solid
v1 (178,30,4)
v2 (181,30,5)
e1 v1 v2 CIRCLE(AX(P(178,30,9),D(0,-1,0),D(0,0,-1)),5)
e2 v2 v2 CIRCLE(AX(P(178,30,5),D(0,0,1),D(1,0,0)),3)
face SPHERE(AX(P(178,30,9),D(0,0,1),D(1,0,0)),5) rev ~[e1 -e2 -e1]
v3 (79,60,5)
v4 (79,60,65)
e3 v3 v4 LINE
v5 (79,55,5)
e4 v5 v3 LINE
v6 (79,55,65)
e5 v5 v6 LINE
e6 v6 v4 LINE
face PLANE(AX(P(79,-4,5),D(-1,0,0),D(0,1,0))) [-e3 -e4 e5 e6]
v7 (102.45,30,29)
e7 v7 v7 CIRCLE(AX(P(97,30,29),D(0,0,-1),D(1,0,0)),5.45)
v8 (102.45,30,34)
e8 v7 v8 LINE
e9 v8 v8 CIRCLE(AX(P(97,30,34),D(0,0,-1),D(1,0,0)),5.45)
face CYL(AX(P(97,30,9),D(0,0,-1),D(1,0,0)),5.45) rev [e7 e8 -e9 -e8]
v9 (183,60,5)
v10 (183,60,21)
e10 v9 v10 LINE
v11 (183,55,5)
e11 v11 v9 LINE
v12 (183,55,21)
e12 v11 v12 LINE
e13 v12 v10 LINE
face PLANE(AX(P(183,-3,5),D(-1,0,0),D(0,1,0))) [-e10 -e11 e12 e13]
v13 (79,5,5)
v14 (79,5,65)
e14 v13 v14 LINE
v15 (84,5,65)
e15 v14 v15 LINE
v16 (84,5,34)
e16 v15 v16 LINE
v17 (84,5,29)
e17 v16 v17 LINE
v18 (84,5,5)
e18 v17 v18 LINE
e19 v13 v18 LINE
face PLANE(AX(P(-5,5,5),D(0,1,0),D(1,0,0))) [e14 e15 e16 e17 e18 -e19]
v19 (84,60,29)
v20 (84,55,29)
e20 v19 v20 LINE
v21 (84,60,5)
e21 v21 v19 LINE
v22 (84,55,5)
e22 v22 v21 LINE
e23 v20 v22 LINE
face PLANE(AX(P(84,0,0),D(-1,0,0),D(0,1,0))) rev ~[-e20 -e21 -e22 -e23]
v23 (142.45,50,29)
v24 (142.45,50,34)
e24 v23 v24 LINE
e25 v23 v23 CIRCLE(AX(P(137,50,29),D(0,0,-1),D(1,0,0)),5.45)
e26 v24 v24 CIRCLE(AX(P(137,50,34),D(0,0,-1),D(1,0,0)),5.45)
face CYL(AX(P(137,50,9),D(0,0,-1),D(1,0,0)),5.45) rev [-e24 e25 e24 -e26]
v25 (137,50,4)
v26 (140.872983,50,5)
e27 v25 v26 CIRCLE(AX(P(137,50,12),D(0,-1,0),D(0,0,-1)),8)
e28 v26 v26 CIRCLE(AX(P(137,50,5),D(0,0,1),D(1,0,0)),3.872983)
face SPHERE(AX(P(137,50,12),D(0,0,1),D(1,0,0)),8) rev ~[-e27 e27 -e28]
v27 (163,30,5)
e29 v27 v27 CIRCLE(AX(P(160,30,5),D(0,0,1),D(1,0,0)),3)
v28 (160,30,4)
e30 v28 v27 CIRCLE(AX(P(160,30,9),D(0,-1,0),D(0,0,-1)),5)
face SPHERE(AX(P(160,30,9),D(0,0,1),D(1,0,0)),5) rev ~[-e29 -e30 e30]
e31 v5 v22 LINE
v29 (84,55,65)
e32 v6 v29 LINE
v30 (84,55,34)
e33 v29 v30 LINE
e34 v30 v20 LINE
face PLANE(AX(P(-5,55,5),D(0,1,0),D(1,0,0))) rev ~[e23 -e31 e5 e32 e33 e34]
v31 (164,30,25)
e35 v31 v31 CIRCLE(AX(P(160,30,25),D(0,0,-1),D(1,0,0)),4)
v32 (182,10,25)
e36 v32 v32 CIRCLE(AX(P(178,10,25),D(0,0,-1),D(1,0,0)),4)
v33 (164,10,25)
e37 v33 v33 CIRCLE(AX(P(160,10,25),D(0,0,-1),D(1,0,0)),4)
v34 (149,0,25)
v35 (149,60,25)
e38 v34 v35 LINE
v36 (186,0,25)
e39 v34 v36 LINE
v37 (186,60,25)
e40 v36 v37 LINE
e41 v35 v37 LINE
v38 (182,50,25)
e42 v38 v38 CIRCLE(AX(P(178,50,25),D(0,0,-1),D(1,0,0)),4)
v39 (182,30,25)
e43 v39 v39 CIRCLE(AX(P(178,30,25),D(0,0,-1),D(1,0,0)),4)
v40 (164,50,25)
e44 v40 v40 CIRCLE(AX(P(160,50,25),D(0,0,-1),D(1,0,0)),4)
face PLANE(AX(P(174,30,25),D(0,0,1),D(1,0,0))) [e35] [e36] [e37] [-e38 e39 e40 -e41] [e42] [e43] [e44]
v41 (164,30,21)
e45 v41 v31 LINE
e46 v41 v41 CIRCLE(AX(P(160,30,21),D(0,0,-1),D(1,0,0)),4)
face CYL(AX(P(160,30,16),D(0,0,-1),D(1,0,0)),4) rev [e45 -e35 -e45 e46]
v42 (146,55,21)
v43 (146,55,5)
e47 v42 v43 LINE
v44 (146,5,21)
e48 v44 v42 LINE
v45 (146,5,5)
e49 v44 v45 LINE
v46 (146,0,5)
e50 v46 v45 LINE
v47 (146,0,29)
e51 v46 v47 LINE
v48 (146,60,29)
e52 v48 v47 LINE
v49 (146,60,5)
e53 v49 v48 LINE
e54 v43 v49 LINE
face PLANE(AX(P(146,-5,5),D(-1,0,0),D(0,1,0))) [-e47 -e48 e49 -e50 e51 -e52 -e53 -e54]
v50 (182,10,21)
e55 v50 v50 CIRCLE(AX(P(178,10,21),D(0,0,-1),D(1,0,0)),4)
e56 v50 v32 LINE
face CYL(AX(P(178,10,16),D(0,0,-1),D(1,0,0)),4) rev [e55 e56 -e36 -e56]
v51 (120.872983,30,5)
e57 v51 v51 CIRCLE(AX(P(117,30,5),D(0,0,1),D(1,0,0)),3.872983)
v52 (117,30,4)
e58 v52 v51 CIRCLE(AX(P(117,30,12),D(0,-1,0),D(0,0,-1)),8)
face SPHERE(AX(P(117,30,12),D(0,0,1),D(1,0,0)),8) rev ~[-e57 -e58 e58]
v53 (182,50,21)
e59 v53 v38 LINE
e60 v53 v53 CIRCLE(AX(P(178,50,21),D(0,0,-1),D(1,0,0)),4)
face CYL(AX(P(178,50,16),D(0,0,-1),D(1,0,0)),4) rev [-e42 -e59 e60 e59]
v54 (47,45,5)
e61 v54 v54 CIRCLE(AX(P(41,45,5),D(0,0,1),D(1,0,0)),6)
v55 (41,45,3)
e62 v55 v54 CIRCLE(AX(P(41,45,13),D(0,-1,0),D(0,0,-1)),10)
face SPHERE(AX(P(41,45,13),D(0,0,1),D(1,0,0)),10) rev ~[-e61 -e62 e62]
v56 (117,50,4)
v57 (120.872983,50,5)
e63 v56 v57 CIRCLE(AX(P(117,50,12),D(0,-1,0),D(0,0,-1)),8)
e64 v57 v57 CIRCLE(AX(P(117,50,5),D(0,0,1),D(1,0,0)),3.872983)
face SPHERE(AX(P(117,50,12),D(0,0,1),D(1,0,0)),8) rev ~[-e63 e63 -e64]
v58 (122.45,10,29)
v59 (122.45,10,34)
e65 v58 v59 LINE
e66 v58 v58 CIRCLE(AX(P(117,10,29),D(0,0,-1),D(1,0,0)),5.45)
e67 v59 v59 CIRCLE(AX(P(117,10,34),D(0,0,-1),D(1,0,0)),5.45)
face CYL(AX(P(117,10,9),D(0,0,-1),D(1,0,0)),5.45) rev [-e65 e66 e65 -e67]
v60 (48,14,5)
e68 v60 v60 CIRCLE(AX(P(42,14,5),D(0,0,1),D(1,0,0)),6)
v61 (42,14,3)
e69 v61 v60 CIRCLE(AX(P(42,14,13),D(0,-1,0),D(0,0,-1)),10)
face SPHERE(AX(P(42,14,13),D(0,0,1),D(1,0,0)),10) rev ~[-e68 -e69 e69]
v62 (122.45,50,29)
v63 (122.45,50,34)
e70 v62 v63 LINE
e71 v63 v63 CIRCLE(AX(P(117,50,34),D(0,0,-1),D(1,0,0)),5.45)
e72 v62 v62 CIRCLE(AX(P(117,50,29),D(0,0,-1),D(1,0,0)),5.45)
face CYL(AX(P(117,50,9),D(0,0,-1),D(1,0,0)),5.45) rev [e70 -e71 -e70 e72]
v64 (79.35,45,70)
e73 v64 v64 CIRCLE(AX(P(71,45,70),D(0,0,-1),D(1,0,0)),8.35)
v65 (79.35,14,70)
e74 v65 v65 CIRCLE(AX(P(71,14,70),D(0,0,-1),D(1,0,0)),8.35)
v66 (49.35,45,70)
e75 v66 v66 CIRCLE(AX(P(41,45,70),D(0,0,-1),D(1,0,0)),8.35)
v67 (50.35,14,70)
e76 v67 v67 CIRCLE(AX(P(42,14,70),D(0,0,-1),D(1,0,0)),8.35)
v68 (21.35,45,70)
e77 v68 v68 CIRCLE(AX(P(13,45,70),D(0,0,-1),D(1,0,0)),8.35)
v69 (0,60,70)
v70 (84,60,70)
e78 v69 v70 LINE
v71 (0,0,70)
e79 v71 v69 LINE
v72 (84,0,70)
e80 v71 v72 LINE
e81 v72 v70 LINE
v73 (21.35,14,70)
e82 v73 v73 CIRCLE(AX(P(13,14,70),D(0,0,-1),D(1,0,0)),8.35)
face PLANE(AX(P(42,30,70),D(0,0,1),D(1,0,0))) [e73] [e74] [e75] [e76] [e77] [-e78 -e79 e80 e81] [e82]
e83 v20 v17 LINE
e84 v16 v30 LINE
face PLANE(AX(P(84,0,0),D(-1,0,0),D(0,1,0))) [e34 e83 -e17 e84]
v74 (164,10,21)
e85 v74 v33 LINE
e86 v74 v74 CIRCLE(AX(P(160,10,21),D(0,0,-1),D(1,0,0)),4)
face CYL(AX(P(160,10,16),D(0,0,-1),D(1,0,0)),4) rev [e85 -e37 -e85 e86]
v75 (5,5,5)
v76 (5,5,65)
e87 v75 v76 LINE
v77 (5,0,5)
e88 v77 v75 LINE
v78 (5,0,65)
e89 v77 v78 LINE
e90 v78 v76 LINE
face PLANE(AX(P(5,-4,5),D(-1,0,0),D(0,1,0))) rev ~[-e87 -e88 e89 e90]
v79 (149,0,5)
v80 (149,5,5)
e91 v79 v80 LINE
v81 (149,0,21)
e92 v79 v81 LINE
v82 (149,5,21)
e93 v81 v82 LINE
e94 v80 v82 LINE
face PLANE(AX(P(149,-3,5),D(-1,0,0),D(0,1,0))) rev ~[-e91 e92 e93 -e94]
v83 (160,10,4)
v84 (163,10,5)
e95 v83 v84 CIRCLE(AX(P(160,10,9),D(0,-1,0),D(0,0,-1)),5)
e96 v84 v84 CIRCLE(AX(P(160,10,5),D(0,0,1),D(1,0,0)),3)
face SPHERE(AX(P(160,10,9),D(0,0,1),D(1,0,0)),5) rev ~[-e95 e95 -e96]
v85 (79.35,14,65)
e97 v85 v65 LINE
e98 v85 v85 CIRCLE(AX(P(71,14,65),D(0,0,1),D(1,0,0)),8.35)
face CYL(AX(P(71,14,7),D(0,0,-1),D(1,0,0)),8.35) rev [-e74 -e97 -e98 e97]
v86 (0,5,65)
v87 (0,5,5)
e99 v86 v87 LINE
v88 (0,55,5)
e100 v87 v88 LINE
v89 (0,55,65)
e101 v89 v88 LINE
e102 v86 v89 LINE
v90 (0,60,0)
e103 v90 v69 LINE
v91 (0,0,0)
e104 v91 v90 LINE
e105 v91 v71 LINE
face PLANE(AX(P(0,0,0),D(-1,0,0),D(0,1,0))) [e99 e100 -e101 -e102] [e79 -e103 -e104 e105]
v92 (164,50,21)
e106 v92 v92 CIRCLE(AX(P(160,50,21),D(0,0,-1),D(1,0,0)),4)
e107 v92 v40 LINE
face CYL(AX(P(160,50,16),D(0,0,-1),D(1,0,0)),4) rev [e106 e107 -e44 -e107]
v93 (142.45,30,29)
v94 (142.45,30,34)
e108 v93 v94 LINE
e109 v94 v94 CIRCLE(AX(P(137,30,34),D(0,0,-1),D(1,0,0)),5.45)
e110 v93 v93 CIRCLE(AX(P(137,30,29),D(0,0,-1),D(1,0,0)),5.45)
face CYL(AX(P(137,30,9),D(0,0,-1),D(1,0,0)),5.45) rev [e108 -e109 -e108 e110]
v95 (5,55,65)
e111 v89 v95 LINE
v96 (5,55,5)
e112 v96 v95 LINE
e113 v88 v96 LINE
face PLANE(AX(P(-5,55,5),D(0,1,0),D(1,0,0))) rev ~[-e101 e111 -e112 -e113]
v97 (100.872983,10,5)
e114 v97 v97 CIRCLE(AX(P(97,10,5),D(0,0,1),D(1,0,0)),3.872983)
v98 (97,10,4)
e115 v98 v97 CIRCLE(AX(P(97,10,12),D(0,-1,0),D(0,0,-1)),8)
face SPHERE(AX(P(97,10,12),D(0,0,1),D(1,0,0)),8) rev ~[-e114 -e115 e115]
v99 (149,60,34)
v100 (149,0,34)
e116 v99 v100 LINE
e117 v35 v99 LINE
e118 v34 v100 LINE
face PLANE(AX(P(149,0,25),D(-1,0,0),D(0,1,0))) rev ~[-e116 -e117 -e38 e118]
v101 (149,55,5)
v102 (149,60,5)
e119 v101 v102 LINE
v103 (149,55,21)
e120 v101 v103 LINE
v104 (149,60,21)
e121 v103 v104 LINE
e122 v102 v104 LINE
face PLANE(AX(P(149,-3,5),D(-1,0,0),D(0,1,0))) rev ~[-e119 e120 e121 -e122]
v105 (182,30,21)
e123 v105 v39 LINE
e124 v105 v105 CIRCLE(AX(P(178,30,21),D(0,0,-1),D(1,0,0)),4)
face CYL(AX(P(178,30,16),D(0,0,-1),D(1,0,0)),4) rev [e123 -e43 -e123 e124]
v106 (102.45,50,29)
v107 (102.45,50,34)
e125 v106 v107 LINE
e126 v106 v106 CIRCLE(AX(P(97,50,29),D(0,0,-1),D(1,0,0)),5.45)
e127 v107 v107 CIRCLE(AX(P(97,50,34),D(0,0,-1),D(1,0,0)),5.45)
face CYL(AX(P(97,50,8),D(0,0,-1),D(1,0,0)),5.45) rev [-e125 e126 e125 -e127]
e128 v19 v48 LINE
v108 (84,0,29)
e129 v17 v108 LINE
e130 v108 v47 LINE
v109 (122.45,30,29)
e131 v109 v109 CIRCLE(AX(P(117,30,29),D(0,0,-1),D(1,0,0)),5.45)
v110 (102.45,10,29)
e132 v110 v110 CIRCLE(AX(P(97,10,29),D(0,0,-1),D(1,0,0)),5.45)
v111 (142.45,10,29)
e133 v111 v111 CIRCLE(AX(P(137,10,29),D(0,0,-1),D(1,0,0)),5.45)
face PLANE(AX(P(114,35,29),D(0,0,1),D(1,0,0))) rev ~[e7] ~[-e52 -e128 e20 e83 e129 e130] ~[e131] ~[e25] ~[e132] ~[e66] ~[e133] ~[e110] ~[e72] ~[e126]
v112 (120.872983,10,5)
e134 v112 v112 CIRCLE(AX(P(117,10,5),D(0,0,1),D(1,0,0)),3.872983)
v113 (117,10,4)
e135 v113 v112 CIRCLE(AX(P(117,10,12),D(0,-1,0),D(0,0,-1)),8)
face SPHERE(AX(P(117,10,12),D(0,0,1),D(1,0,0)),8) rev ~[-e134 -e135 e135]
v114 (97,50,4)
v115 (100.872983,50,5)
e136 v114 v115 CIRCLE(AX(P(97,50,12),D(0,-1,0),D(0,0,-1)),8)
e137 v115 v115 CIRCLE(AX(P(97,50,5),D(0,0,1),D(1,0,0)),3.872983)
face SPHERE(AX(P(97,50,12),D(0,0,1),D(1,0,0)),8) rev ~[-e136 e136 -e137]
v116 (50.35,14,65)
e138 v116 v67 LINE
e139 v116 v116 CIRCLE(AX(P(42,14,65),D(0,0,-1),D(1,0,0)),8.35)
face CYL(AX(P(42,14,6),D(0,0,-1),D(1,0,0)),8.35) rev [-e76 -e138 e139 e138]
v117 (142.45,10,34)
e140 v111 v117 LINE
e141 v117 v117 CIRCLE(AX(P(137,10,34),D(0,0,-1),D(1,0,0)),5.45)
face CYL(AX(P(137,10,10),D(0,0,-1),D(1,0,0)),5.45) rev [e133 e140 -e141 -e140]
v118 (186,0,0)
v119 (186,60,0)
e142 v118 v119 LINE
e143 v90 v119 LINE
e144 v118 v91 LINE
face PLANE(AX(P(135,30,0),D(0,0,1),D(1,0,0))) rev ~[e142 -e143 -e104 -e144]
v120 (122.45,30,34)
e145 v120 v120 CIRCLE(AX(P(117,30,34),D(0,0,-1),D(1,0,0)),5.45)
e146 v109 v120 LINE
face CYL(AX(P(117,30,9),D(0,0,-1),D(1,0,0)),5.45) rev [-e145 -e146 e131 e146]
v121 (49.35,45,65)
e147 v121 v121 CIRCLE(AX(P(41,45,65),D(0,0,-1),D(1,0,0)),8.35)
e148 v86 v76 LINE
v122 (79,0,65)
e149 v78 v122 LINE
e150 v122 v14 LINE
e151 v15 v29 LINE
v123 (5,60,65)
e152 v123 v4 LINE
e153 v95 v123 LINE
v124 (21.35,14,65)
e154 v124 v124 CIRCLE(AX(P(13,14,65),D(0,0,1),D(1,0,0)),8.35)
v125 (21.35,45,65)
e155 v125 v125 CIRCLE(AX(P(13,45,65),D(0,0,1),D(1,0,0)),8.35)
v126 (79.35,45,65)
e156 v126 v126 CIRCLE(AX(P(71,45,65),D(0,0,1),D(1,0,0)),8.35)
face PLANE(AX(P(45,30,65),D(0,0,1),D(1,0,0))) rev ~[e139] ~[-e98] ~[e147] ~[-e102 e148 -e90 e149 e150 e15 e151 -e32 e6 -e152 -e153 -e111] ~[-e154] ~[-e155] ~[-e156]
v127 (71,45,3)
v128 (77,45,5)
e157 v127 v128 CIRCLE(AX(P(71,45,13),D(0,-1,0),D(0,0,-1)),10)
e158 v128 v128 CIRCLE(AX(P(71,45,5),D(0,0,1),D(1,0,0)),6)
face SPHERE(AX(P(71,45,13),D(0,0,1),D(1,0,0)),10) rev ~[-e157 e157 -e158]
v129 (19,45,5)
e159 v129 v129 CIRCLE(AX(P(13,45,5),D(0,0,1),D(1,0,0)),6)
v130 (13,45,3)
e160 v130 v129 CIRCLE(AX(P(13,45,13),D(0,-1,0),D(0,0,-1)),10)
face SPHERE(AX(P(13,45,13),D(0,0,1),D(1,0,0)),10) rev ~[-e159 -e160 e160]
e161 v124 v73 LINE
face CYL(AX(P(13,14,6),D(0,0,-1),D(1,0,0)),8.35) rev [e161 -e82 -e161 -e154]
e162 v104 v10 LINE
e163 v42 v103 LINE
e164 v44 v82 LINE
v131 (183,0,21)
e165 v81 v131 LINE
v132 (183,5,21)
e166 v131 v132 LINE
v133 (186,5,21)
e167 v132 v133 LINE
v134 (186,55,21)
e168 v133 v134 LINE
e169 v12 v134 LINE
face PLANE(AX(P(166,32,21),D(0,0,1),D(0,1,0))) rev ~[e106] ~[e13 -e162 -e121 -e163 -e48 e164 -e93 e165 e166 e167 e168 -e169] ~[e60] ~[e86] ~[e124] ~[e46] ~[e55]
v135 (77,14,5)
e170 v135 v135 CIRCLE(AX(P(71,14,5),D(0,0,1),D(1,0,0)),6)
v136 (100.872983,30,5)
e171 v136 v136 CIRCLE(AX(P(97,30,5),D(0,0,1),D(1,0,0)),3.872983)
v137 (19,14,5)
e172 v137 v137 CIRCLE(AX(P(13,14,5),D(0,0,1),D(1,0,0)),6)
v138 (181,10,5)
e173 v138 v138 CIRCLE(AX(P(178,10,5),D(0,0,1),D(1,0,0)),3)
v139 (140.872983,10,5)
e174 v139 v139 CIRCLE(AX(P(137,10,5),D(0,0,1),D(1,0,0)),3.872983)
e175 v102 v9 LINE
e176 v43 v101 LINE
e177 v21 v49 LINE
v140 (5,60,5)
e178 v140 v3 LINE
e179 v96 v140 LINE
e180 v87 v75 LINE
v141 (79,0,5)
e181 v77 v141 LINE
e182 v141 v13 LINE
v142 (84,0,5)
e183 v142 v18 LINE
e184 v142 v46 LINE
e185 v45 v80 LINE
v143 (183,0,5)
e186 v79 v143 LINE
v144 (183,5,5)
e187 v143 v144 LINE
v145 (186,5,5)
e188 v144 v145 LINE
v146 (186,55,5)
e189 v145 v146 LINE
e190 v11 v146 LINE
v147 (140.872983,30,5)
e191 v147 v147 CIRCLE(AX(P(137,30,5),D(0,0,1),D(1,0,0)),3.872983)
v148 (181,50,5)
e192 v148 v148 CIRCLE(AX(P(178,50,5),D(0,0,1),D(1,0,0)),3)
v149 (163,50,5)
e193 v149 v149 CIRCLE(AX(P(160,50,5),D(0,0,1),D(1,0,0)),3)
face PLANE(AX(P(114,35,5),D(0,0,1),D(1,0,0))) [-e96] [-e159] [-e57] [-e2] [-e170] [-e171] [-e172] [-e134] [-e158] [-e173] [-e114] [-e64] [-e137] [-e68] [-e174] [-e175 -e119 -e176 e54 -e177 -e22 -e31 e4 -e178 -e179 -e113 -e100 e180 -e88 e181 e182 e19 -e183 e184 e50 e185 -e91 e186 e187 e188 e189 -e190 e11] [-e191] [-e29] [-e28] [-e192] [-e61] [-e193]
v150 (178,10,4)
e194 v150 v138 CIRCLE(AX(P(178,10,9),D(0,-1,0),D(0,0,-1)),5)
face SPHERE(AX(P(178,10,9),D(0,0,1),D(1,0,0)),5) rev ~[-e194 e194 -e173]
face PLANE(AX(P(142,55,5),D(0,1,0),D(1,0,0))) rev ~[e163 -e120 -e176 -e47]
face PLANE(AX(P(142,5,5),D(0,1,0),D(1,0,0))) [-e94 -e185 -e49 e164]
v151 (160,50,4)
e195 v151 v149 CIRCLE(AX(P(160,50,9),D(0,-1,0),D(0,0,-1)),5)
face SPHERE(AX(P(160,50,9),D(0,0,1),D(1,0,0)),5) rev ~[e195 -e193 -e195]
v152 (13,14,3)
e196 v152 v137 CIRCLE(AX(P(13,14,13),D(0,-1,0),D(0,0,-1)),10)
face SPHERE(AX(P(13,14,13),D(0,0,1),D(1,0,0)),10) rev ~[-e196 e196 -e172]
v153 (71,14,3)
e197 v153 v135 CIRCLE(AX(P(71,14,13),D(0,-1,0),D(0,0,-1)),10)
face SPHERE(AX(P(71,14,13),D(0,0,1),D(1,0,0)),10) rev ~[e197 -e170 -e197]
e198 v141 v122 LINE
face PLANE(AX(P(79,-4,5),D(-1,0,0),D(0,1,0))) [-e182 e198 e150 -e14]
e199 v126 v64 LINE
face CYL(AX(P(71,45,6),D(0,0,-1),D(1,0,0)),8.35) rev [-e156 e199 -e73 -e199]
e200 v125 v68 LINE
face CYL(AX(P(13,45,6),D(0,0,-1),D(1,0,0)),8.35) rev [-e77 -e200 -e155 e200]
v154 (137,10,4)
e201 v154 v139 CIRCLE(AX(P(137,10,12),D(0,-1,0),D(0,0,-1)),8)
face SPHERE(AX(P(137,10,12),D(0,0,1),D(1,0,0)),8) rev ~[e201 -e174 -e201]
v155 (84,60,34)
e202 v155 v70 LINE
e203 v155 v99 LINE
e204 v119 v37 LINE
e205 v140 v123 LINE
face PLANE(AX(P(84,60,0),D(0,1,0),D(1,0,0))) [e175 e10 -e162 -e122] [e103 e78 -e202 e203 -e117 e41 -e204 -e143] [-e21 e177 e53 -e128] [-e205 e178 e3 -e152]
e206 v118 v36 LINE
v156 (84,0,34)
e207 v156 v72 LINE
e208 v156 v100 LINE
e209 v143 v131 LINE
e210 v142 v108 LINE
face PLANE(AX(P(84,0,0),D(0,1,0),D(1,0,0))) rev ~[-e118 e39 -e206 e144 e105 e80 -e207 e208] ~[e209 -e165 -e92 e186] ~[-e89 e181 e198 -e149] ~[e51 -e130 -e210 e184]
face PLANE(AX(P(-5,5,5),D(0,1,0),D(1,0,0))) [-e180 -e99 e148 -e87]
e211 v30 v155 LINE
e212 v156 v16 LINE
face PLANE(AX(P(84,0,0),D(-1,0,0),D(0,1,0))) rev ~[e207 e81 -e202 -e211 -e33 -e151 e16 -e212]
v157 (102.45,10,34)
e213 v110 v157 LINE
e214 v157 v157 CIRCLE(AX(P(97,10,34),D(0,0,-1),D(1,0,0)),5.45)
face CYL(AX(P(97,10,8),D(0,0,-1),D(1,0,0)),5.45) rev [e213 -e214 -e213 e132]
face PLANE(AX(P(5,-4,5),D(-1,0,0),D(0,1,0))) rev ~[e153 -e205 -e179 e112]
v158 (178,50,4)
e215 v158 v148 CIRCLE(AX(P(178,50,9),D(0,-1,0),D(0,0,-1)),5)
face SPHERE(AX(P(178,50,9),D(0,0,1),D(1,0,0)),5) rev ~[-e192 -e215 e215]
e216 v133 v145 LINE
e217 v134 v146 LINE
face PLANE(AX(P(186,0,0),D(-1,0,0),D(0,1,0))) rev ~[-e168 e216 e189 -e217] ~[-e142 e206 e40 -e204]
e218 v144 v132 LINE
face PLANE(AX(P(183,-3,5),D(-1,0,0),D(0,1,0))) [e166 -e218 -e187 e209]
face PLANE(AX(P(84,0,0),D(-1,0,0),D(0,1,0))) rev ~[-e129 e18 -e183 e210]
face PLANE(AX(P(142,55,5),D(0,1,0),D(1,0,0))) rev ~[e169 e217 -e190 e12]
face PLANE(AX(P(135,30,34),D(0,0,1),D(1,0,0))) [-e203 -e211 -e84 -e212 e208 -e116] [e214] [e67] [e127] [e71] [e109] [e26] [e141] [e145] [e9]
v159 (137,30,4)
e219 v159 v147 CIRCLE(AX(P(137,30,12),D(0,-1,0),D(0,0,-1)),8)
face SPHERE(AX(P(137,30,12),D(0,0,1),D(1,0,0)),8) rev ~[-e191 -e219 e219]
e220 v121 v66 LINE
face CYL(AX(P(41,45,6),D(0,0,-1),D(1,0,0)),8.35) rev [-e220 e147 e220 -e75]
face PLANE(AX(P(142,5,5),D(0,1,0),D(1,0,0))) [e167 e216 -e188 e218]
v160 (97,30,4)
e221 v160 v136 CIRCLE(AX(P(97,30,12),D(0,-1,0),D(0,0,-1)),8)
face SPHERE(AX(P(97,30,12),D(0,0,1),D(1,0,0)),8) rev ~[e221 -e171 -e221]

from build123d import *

# Parameters (mm, degrees)
CYLINDER020_R     = 4
CYLINDER020_DEPTH = 30
CYLINDER019_R     = 4
CYLINDER019_DEPTH = 30
CYLINDER018_R     = 4
CYLINDER018_DEPTH = 30
CYLINDER017_R     = 4
CYLINDER017_DEPTH = 30
CYLINDER015_R     = 4
CYLINDER015_DEPTH = 30
CYLINDER016_R     = 4
CYLINDER016_DEPTH = 30
BOX010_W          = 50
BOX010_H          = 60
BOX010_DEPTH      = 10
BOX008_W          = 70
BOX008_H          = 34
BOX008_DEPTH      = 16
BOX007_W          = 50
BOX007_H          = 50
BOX007_DEPTH      = 16
CYLINDER006_R     = 5.45
CYLINDER006_DEPTH = 60
CYLINDER008_R     = 5.45
CYLINDER008_DEPTH = 60
CYLINDER007_R     = 5.45
CYLINDER007_DEPTH = 60
CYLINDER011_R     = 5.45
CYLINDER011_DEPTH = 60
CYLINDER010_R     = 5.45
CYLINDER010_DEPTH = 60
CYLINDER009_R     = 5.45
CYLINDER009_DEPTH = 60
CYLINDER014_R     = 5.45
CYLINDER014_DEPTH = 60
CYLINDER013_R     = 5.45
CYLINDER013_DEPTH = 60
CYLINDER012_R     = 5.45
CYLINDER012_DEPTH = 60
BOX006_W          = 64
BOX006_H          = 80
BOX006_DEPTH      = 24
BOX009_W          = 75
BOX009_H          = 50
BOX009_DEPTH      = 24
BOX003_W          = 102
BOX003_H          = 60
BOX003_DEPTH      = 34
BOX001_W          = 74
BOX001_H          = 70
BOX001_DEPTH      = 60
BOX002_W          = 100
BOX002_H          = 50
BOX002_DEPTH      = 60
CYLINDER_R        = 8.35
CYLINDER_DEPTH    = 80
CYLINDER003_R     = 8.35
CYLINDER003_DEPTH = 80
CYLINDER004_R     = 8.35
CYLINDER004_DEPTH = 80
CYLINDER005_R     = 8.35
CYLINDER005_DEPTH = 80
CYLINDER002_R     = 8.35
CYLINDER002_DEPTH = 80
CYLINDER001_R     = 8.35
CYLINDER001_DEPTH = 80
BOX_W             = 84
BOX_H             = 60
BOX_DEPTH         = 70


with BuildPart() as sphere018:
    # Sphere018 → Sphere018 (revolve)
    with BuildSketch(Plane(origin=(178, 10, 9), x_dir=(1, 0, 0), z_dir=(0, -1, 0))):
        with BuildLine():
            ThreePointArc((0, -5), (5, 0), (0, 5))
            Line((0, 5), (0, -5))
        make_face()
    revolve(axis=Axis((178, 10, 9), (0, 0, 1)))


with BuildPart() as sphere020:
    # Sphere020 → Sphere020 (revolve)
    with BuildSketch(Plane(origin=(178, 30, 9), x_dir=(1, 0, 0), z_dir=(0, -1, 0))):
        with BuildLine():
            ThreePointArc((0, -5), (5, 0), (0, 5))
            Line((0, 5), (0, -5))
        make_face()
    revolve(axis=Axis((178, 30, 9), (0, 0, 1)))


with BuildPart() as sphere019:
    # Sphere019 → Sphere019 (revolve)
    with BuildSketch(Plane(origin=(178, 50, 9), x_dir=(1, 0, 0), z_dir=(0, -1, 0))):
        with BuildLine():
            ThreePointArc((0, -5), (5, 0), (0, 5))
            Line((0, 5), (0, -5))
        make_face()
    revolve(axis=Axis((178, 50, 9), (0, 0, 1)))


with BuildPart() as sphere016:
    # Sphere016 → Sphere016 (revolve)
    with BuildSketch(Plane(origin=(160, 50, 9), x_dir=(1, 0, 0), z_dir=(0, -1, 0))):
        with BuildLine():
            ThreePointArc((0, -5), (5, 0), (0, 5))
            Line((0, 5), (0, -5))
        make_face()
    revolve(axis=Axis((160, 50, 9), (0, 0, 1)))


with BuildPart() as sphere017:
    # Sphere017 → Sphere017 (revolve)
    with BuildSketch(Plane(origin=(160, 30, 9), x_dir=(1, 0, 0), z_dir=(0, -1, 0))):
        with BuildLine():
            ThreePointArc((0, -5), (5, 0), (0, 5))
            Line((0, 5), (0, -5))
        make_face()
    revolve(axis=Axis((160, 30, 9), (0, 0, 1)))


with BuildPart() as sphere015:
    # Sphere015 → Sphere015 (revolve)
    with BuildSketch(Plane(origin=(160, 10, 9), x_dir=(1, 0, 0), z_dir=(0, -1, 0))):
        with BuildLine():
            ThreePointArc((0, -5), (5, 0), (0, 5))
            Line((0, 5), (0, -5))
        make_face()
    revolve(axis=Axis((160, 10, 9), (0, 0, 1)))


with BuildPart() as sphere012:
    # Sphere012 → Sphere012 (revolve)
    with BuildSketch(Plane(origin=(137, 50, 12), x_dir=(1, 0, 0), z_dir=(0, -1, 0))):
        with BuildLine():
            ThreePointArc((0, -8), (8, 0), (0, 8))
            Line((0, 8), (0, -8))
        make_face()
    revolve(axis=Axis((137, 50, 12), (0, 0, 1)))


with BuildPart() as sphere011:
    # Sphere011 → Sphere011 (revolve)
    with BuildSketch(Plane(origin=(137, 30, 12), x_dir=(1, 0, 0), z_dir=(0, -1, 0))):
        with BuildLine():
            ThreePointArc((0, -8), (8, 0), (0, 8))
            Line((0, 8), (0, -8))
        make_face()
    revolve(axis=Axis((137, 30, 12), (0, 0, 1)))


with BuildPart() as sphere008:
    # Sphere008 → Sphere008 (revolve)
    with BuildSketch(Plane(origin=(137, 10, 12), x_dir=(1, 0, 0), z_dir=(0, -1, 0))):
        with BuildLine():
            ThreePointArc((0, -8), (8, 0), (0, 8))
            Line((0, 8), (0, -8))
        make_face()
    revolve(axis=Axis((137, 10, 12), (0, 0, 1)))


with BuildPart() as sphere013:
    # Sphere013 → Sphere013 (revolve)
    with BuildSketch(Plane(origin=(117, 50, 12), x_dir=(1, 0, 0), z_dir=(0, -1, 0))):
        with BuildLine():
            ThreePointArc((0, -8), (8, 0), (0, 8))
            Line((0, 8), (0, -8))
        make_face()
    revolve(axis=Axis((117, 50, 12), (0, 0, 1)))


with BuildPart() as sphere010:
    # Sphere010 → Sphere010 (revolve)
    with BuildSketch(Plane(origin=(117, 30, 12), x_dir=(1, 0, 0), z_dir=(0, -1, 0))):
        with BuildLine():
            ThreePointArc((0, -8), (8, 0), (0, 8))
            Line((0, 8), (0, -8))
        make_face()
    revolve(axis=Axis((117, 30, 12), (0, 0, 1)))


with BuildPart() as sphere007:
    # Sphere007 → Sphere007 (revolve)
    with BuildSketch(Plane(origin=(117, 10, 12), x_dir=(1, 0, 0), z_dir=(0, -1, 0))):
        with BuildLine():
            ThreePointArc((0, -8), (8, 0), (0, 8))
            Line((0, 8), (0, -8))
        make_face()
    revolve(axis=Axis((117, 10, 12), (0, 0, 1)))


with BuildPart() as sphere014:
    # Sphere014 → Sphere014 (revolve)
    with BuildSketch(Plane(origin=(97, 50, 12), x_dir=(1, 0, 0), z_dir=(0, -1, 0))):
        with BuildLine():
            ThreePointArc((0, -8), (8, 0), (0, 8))
            Line((0, 8), (0, -8))
        make_face()
    revolve(axis=Axis((97, 50, 12), (0, 0, 1)))


with BuildPart() as sphere009:
    # Sphere009 → Sphere009 (revolve)
    with BuildSketch(Plane(origin=(97, 30, 12), x_dir=(1, 0, 0), z_dir=(0, -1, 0))):
        with BuildLine():
            ThreePointArc((0, -8), (8, 0), (0, 8))
            Line((0, 8), (0, -8))
        make_face()
    revolve(axis=Axis((97, 30, 12), (0, 0, 1)))


with BuildPart() as sphere006:
    # Sphere006 → Sphere006 (revolve)
    with BuildSketch(Plane(origin=(97, 10, 12), x_dir=(1, 0, 0), z_dir=(0, -1, 0))):
        with BuildLine():
            ThreePointArc((0, -8), (8, 0), (0, 8))
            Line((0, 8), (0, -8))
        make_face()
    revolve(axis=Axis((97, 10, 12), (0, 0, 1)))


with BuildPart() as cylinder020:
    # Cylinder020 → Cylinder020 (new body)
    with BuildSketch(Plane(origin=(178, 50, 16), x_dir=(1, 0, 0), z_dir=(0, 0, 1))):
        Circle(CYLINDER020_R)
    extrude(amount=CYLINDER020_DEPTH)


with BuildPart() as cylinder019:
    # Cylinder019 → Cylinder019 (new body)
    with BuildSketch(Plane(origin=(160, 50, 16), x_dir=(1, 0, 0), z_dir=(0, 0, 1))):
        Circle(CYLINDER019_R)
    extrude(amount=CYLINDER019_DEPTH)


with BuildPart() as cylinder018:
    # Cylinder018 → Cylinder018 (new body)
    with BuildSketch(Plane(origin=(178, 30, 16), x_dir=(1, 0, 0), z_dir=(0, 0, 1))):
        Circle(CYLINDER018_R)
    extrude(amount=CYLINDER018_DEPTH)


with BuildPart() as cylinder017:
    # Cylinder017 → Cylinder017 (new body)
    with BuildSketch(Plane(origin=(160, 30, 16), x_dir=(1, 0, 0), z_dir=(0, 0, 1))):
        Circle(CYLINDER017_R)
    extrude(amount=CYLINDER017_DEPTH)


with BuildPart() as cylinder015:
    # Cylinder015 → Cylinder015 (new body)
    with BuildSketch(Plane(origin=(160, 10, 16), x_dir=(1, 0, 0), z_dir=(0, 0, 1))):
        Circle(CYLINDER015_R)
    extrude(amount=CYLINDER015_DEPTH)


with BuildPart() as cylinder016:
    # Cylinder016 → Cylinder016 (new body)
    with BuildSketch(Plane(origin=(178, 10, 16), x_dir=(1, 0, 0), z_dir=(0, 0, 1))):
        Circle(CYLINDER016_R)
    extrude(amount=CYLINDER016_DEPTH)


with BuildPart() as cube010:
    # Box010 → Box010 (new body)
    with BuildSketch(Plane(origin=(149, 0, 25), x_dir=(1, 0, 0), z_dir=(0, 0, 1))):
        with Locations((25, 30)):
            Rectangle(BOX010_W, BOX010_H)
    extrude(amount=BOX010_DEPTH)


with BuildPart() as cube008:
    # Box008 → Box008 (new body)
    with BuildSketch(Plane(origin=(183, -3, 5), x_dir=(0, 1, 0), z_dir=(0, 0, 1))):
        with Locations((35, 17)):
            Rectangle(BOX008_W, BOX008_H)
    extrude(amount=BOX008_DEPTH)


with BuildPart() as cube007:
    # Box007 → Box007 (new body)
    with BuildSketch(Plane(origin=(142, 5, 5), x_dir=(1, 0, 0), z_dir=(0, 0, 1))):
        with Locations((25, 25)):
            Rectangle(BOX007_W, BOX007_H)
    extrude(amount=BOX007_DEPTH)


with BuildPart() as cylinder006:
    # Cylinder006 → Cylinder006 (new body)
    with BuildSketch(Plane(origin=(97, 10, 8), x_dir=(1, 0, 0), z_dir=(0, 0, 1))):
        Circle(CYLINDER006_R)
    extrude(amount=CYLINDER006_DEPTH)


with BuildPart() as cylinder008:
    # Cylinder008 → Cylinder008 (new body)
    with BuildSketch(Plane(origin=(97, 30, 9), x_dir=(1, 0, 0), z_dir=(0, 0, 1))):
        Circle(CYLINDER008_R)
    extrude(amount=CYLINDER008_DEPTH)


with BuildPart() as cylinder007:
    # Cylinder007 → Cylinder007 (new body)
    with BuildSketch(Plane(origin=(97, 50, 8), x_dir=(1, 0, 0), z_dir=(0, 0, 1))):
        Circle(CYLINDER007_R)
    extrude(amount=CYLINDER007_DEPTH)


with BuildPart() as cylinder011:
    # Cylinder011 → Cylinder011 (new body)
    with BuildSketch(Plane(origin=(117, 10, 9), x_dir=(1, 0, 0), z_dir=(0, 0, 1))):
        Circle(CYLINDER011_R)
    extrude(amount=CYLINDER011_DEPTH)


with BuildPart() as cylinder010:
    # Cylinder010 → Cylinder010 (new body)
    with BuildSketch(Plane(origin=(117, 30, 9), x_dir=(1, 0, 0), z_dir=(0, 0, 1))):
        Circle(CYLINDER010_R)
    extrude(amount=CYLINDER010_DEPTH)


with BuildPart() as cylinder009:
    # Cylinder009 → Cylinder009 (new body)
    with BuildSketch(Plane(origin=(117, 50, 9), x_dir=(1, 0, 0), z_dir=(0, 0, 1))):
        Circle(CYLINDER009_R)
    extrude(amount=CYLINDER009_DEPTH)


with BuildPart() as cylinder014:
    # Cylinder014 → Cylinder014 (new body)
    with BuildSketch(Plane(origin=(137, 10, 10), x_dir=(1, 0, 0), z_dir=(0, 0, 1))):
        Circle(CYLINDER014_R)
    extrude(amount=CYLINDER014_DEPTH)


with BuildPart() as cylinder013:
    # Cylinder013 → Cylinder013 (new body)
    with BuildSketch(Plane(origin=(137, 30, 9), x_dir=(1, 0, 0), z_dir=(0, 0, 1))):
        Circle(CYLINDER013_R)
    extrude(amount=CYLINDER013_DEPTH)


with BuildPart() as cylinder012:
    # Cylinder012 → Cylinder012 (new body)
    with BuildSketch(Plane(origin=(137, 50, 9), x_dir=(1, 0, 0), z_dir=(0, 0, 1))):
        Circle(CYLINDER012_R)
    extrude(amount=CYLINDER012_DEPTH)


with BuildPart() as cube006:
    # Box006 → Box006 (new body)
    with BuildSketch(Plane(origin=(82, -5, 5), x_dir=(1, 0, 0), z_dir=(0, 0, 1))):
        with Locations((32, 40)):
            Rectangle(BOX006_W, BOX006_H)
    extrude(amount=BOX006_DEPTH)


with BuildPart() as cube009:
    # Box009 → Box009 (new body)
    with BuildSketch(Plane(origin=(71, 5, 5), x_dir=(1, 0, 0), z_dir=(0, 0, 1))):
        with Locations((37.5, 25)):
            Rectangle(BOX009_W, BOX009_H)
    extrude(amount=BOX009_DEPTH)


with BuildPart() as cut048:
    # Box003 → Box003 (new body)
    with BuildSketch(Plane(origin=(84, 0, 0), x_dir=(1, 0, 0), z_dir=(0, 0, 1))):
        with Locations((51, 30)):
            Rectangle(BOX003_W, BOX003_H)
    extrude(amount=BOX003_DEPTH)

    # Cut008: cut Cube009
    add(cube009.part, mode=Mode.SUBTRACT)

    # Cut009: cut Cube006
    add(cube006.part, mode=Mode.SUBTRACT)

    # Cut010: cut Cylinder012
    add(cylinder012.part, mode=Mode.SUBTRACT)

    # Cut011: cut Cylinder013
    add(cylinder013.part, mode=Mode.SUBTRACT)

    # Cut012: cut Cylinder014
    add(cylinder014.part, mode=Mode.SUBTRACT)

    # Cut013: cut Cylinder009
    add(cylinder009.part, mode=Mode.SUBTRACT)

    # Cut014: cut Cylinder010
    add(cylinder010.part, mode=Mode.SUBTRACT)

    # Cut015: cut Cylinder011
    add(cylinder011.part, mode=Mode.SUBTRACT)

    # Cut016: cut Cylinder007
    add(cylinder007.part, mode=Mode.SUBTRACT)

    # Cut017: cut Cylinder008
    add(cylinder008.part, mode=Mode.SUBTRACT)

    # Cut018: cut Cylinder006
    add(cylinder006.part, mode=Mode.SUBTRACT)

    # Cut019: cut Cube007
    add(cube007.part, mode=Mode.SUBTRACT)

    # Cut020: cut Cube008
    add(cube008.part, mode=Mode.SUBTRACT)

    # Cut021: cut Cube010
    add(cube010.part, mode=Mode.SUBTRACT)

    # Cut022: cut Cylinder016
    add(cylinder016.part, mode=Mode.SUBTRACT)

    # Cut023: cut Cylinder015
    add(cylinder015.part, mode=Mode.SUBTRACT)

    # Cut024: cut Cylinder017
    add(cylinder017.part, mode=Mode.SUBTRACT)

    # Cut025: cut Cylinder018
    add(cylinder018.part, mode=Mode.SUBTRACT)

    # Cut026: cut Cylinder019
    add(cylinder019.part, mode=Mode.SUBTRACT)

    # Cut027: cut Cylinder020
    add(cylinder020.part, mode=Mode.SUBTRACT)

    # Cut034: cut Sphere006
    add(sphere006.part, mode=Mode.SUBTRACT)

    # Cut035: cut Sphere009
    add(sphere009.part, mode=Mode.SUBTRACT)

    # Cut036: cut Sphere014
    add(sphere014.part, mode=Mode.SUBTRACT)

    # Cut037: cut Sphere007
    add(sphere007.part, mode=Mode.SUBTRACT)

    # Cut038: cut Sphere010
    add(sphere010.part, mode=Mode.SUBTRACT)

    # Cut039: cut Sphere013
    add(sphere013.part, mode=Mode.SUBTRACT)

    # Cut040: cut Sphere008
    add(sphere008.part, mode=Mode.SUBTRACT)

    # Cut041: cut Sphere011
    add(sphere011.part, mode=Mode.SUBTRACT)

    # Cut042: cut Sphere012
    add(sphere012.part, mode=Mode.SUBTRACT)

    # Cut043: cut Sphere015
    add(sphere015.part, mode=Mode.SUBTRACT)

    # Cut044: cut Sphere017
    add(sphere017.part, mode=Mode.SUBTRACT)

    # Cut045: cut Sphere016
    add(sphere016.part, mode=Mode.SUBTRACT)

    # Cut046: cut Sphere019
    add(sphere019.part, mode=Mode.SUBTRACT)

    # Cut047: cut Sphere020
    add(sphere020.part, mode=Mode.SUBTRACT)

    # Cut048: cut Sphere018
    add(sphere018.part, mode=Mode.SUBTRACT)


with BuildPart() as sphere005:
    # Sphere005 → Sphere005 (revolve)
    with BuildSketch(Plane(origin=(71, 45, 13), x_dir=(1, 0, 0), z_dir=(0, -1, 0))):
        with BuildLine():
            ThreePointArc((0, -10), (10, 0), (0, 10))
            Line((0, 10), (0, -10))
        make_face()
    revolve(axis=Axis((71, 45, 13), (0, 0, 1)))


with BuildPart() as sphere004:
    # Sphere004 → Sphere004 (revolve)
    with BuildSketch(Plane(origin=(41, 45, 13), x_dir=(1, 0, 0), z_dir=(0, -1, 0))):
        with BuildLine():
            ThreePointArc((0, -10), (10, 0), (0, 10))
            Line((0, 10), (0, -10))
        make_face()
    revolve(axis=Axis((41, 45, 13), (0, 0, 1)))


with BuildPart() as sphere003:
    # Sphere003 → Sphere003 (revolve)
    with BuildSketch(Plane(origin=(13, 45, 13), x_dir=(1, 0, 0), z_dir=(0, -1, 0))):
        with BuildLine():
            ThreePointArc((0, -10), (10, 0), (0, 10))
            Line((0, 10), (0, -10))
        make_face()
    revolve(axis=Axis((13, 45, 13), (0, 0, 1)))


with BuildPart() as sphere002:
    # Sphere002 → Sphere002 (revolve)
    with BuildSketch(Plane(origin=(71, 14, 13), x_dir=(1, 0, 0), z_dir=(0, -1, 0))):
        with BuildLine():
            ThreePointArc((0, -10), (10, 0), (0, 10))
            Line((0, 10), (0, -10))
        make_face()
    revolve(axis=Axis((71, 14, 13), (0, 0, 1)))


with BuildPart() as sphere001:
    # Sphere001 → Sphere001 (revolve)
    with BuildSketch(Plane(origin=(42, 14, 13), x_dir=(1, 0, 0), z_dir=(0, -1, 0))):
        with BuildLine():
            ThreePointArc((0, -10), (10, 0), (0, 10))
            Line((0, 10), (0, -10))
        make_face()
    revolve(axis=Axis((42, 14, 13), (0, 0, 1)))


with BuildPart() as sphere:
    # Sphere → Sphere (revolve)
    with BuildSketch(Plane(origin=(13, 14, 13), x_dir=(1, 0, 0), z_dir=(0, -1, 0))):
        with BuildLine():
            ThreePointArc((0, -10), (10, 0), (0, 10))
            Line((0, 10), (0, -10))
        make_face()
    revolve(axis=Axis((13, 14, 13), (0, 0, 1)))


with BuildPart() as cube001:
    # Box001 → Box001 (new body)
    with BuildSketch(Plane(origin=(5, -4, 5), x_dir=(1, 0, 0), z_dir=(0, 0, 1))):
        with Locations((37, 35)):
            Rectangle(BOX001_W, BOX001_H)
    extrude(amount=BOX001_DEPTH)


with BuildPart() as cube002:
    # Box002 → Box002 (new body)
    with BuildSketch(Plane(origin=(-5, 5, 5), x_dir=(1, 0, 0), z_dir=(0, 0, 1))):
        with Locations((50, 25)):
            Rectangle(BOX002_W, BOX002_H)
    extrude(amount=BOX002_DEPTH)


with BuildPart() as cylinder:
    # Cylinder → Cylinder (new body)
    with BuildSketch(Plane(origin=(13, 14, 6), x_dir=(1, 0, 0), z_dir=(0, 0, 1))):
        Circle(CYLINDER_R)
    extrude(amount=CYLINDER_DEPTH)


with BuildPart() as cylinder003:
    # Cylinder003 → Cylinder003 (new body)
    with BuildSketch(Plane(origin=(13, 45, 6), x_dir=(1, 0, 0), z_dir=(0, 0, 1))):
        Circle(CYLINDER003_R)
    extrude(amount=CYLINDER003_DEPTH)


with BuildPart() as cylinder004:
    # Cylinder004 → Cylinder004 (new body)
    with BuildSketch(Plane(origin=(41, 45, 6), x_dir=(1, 0, 0), z_dir=(0, 0, 1))):
        Circle(CYLINDER004_R)
    extrude(amount=CYLINDER004_DEPTH)


with BuildPart() as cylinder005:
    # Cylinder005 → Cylinder005 (new body)
    with BuildSketch(Plane(origin=(71, 45, 6), x_dir=(1, 0, 0), z_dir=(0, 0, 1))):
        Circle(CYLINDER005_R)
    extrude(amount=CYLINDER005_DEPTH)


with BuildPart() as cylinder002:
    # Cylinder002 → Cylinder002 (new body)
    with BuildSketch(Plane(origin=(71, 14, 7), x_dir=(1, 0, 0), z_dir=(0, 0, 1))):
        Circle(CYLINDER002_R)
    extrude(amount=CYLINDER002_DEPTH)


with BuildPart() as cylinder001:
    # Cylinder001 → Cylinder001 (new body)
    with BuildSketch(Plane(origin=(42, 14, 6), x_dir=(1, 0, 0), z_dir=(0, 0, 1))):
        Circle(CYLINDER001_R)
    extrude(amount=CYLINDER001_DEPTH)


with BuildPart() as fusion:
    # Box → Box (new body)
    with BuildSketch(Plane.XY):
        with Locations((42, 30)):
            Rectangle(BOX_W, BOX_H)
    extrude(amount=BOX_DEPTH)

    # Cut: cut Cylinder001
    add(cylinder001.part, mode=Mode.SUBTRACT)

    # Cut001: cut Cylinder002
    add(cylinder002.part, mode=Mode.SUBTRACT)

    # Cut002: cut Cylinder005
    add(cylinder005.part, mode=Mode.SUBTRACT)

    # Cut003: cut Cylinder004
    add(cylinder004.part, mode=Mode.SUBTRACT)

    # Cut004: cut Cylinder003
    add(cylinder003.part, mode=Mode.SUBTRACT)

    # Cut005: cut Cylinder
    add(cylinder.part, mode=Mode.SUBTRACT)

    # Cut006: cut Cube002
    add(cube002.part, mode=Mode.SUBTRACT)

    # Cut007: cut Cube001
    add(cube001.part, mode=Mode.SUBTRACT)

    # Cut028: cut Sphere
    add(sphere.part, mode=Mode.SUBTRACT)

    # Cut029: cut Sphere001
    add(sphere001.part, mode=Mode.SUBTRACT)

    # Cut030: cut Sphere002
    add(sphere002.part, mode=Mode.SUBTRACT)

    # Cut031: cut Sphere003
    add(sphere003.part, mode=Mode.SUBTRACT)

    # Cut032: cut Sphere004
    add(sphere004.part, mode=Mode.SUBTRACT)

    # Cut033: cut Sphere005
    add(sphere005.part, mode=Mode.SUBTRACT)

    # Fusion: union Cut048
    add(cut048.part)


solid = fusion.part
